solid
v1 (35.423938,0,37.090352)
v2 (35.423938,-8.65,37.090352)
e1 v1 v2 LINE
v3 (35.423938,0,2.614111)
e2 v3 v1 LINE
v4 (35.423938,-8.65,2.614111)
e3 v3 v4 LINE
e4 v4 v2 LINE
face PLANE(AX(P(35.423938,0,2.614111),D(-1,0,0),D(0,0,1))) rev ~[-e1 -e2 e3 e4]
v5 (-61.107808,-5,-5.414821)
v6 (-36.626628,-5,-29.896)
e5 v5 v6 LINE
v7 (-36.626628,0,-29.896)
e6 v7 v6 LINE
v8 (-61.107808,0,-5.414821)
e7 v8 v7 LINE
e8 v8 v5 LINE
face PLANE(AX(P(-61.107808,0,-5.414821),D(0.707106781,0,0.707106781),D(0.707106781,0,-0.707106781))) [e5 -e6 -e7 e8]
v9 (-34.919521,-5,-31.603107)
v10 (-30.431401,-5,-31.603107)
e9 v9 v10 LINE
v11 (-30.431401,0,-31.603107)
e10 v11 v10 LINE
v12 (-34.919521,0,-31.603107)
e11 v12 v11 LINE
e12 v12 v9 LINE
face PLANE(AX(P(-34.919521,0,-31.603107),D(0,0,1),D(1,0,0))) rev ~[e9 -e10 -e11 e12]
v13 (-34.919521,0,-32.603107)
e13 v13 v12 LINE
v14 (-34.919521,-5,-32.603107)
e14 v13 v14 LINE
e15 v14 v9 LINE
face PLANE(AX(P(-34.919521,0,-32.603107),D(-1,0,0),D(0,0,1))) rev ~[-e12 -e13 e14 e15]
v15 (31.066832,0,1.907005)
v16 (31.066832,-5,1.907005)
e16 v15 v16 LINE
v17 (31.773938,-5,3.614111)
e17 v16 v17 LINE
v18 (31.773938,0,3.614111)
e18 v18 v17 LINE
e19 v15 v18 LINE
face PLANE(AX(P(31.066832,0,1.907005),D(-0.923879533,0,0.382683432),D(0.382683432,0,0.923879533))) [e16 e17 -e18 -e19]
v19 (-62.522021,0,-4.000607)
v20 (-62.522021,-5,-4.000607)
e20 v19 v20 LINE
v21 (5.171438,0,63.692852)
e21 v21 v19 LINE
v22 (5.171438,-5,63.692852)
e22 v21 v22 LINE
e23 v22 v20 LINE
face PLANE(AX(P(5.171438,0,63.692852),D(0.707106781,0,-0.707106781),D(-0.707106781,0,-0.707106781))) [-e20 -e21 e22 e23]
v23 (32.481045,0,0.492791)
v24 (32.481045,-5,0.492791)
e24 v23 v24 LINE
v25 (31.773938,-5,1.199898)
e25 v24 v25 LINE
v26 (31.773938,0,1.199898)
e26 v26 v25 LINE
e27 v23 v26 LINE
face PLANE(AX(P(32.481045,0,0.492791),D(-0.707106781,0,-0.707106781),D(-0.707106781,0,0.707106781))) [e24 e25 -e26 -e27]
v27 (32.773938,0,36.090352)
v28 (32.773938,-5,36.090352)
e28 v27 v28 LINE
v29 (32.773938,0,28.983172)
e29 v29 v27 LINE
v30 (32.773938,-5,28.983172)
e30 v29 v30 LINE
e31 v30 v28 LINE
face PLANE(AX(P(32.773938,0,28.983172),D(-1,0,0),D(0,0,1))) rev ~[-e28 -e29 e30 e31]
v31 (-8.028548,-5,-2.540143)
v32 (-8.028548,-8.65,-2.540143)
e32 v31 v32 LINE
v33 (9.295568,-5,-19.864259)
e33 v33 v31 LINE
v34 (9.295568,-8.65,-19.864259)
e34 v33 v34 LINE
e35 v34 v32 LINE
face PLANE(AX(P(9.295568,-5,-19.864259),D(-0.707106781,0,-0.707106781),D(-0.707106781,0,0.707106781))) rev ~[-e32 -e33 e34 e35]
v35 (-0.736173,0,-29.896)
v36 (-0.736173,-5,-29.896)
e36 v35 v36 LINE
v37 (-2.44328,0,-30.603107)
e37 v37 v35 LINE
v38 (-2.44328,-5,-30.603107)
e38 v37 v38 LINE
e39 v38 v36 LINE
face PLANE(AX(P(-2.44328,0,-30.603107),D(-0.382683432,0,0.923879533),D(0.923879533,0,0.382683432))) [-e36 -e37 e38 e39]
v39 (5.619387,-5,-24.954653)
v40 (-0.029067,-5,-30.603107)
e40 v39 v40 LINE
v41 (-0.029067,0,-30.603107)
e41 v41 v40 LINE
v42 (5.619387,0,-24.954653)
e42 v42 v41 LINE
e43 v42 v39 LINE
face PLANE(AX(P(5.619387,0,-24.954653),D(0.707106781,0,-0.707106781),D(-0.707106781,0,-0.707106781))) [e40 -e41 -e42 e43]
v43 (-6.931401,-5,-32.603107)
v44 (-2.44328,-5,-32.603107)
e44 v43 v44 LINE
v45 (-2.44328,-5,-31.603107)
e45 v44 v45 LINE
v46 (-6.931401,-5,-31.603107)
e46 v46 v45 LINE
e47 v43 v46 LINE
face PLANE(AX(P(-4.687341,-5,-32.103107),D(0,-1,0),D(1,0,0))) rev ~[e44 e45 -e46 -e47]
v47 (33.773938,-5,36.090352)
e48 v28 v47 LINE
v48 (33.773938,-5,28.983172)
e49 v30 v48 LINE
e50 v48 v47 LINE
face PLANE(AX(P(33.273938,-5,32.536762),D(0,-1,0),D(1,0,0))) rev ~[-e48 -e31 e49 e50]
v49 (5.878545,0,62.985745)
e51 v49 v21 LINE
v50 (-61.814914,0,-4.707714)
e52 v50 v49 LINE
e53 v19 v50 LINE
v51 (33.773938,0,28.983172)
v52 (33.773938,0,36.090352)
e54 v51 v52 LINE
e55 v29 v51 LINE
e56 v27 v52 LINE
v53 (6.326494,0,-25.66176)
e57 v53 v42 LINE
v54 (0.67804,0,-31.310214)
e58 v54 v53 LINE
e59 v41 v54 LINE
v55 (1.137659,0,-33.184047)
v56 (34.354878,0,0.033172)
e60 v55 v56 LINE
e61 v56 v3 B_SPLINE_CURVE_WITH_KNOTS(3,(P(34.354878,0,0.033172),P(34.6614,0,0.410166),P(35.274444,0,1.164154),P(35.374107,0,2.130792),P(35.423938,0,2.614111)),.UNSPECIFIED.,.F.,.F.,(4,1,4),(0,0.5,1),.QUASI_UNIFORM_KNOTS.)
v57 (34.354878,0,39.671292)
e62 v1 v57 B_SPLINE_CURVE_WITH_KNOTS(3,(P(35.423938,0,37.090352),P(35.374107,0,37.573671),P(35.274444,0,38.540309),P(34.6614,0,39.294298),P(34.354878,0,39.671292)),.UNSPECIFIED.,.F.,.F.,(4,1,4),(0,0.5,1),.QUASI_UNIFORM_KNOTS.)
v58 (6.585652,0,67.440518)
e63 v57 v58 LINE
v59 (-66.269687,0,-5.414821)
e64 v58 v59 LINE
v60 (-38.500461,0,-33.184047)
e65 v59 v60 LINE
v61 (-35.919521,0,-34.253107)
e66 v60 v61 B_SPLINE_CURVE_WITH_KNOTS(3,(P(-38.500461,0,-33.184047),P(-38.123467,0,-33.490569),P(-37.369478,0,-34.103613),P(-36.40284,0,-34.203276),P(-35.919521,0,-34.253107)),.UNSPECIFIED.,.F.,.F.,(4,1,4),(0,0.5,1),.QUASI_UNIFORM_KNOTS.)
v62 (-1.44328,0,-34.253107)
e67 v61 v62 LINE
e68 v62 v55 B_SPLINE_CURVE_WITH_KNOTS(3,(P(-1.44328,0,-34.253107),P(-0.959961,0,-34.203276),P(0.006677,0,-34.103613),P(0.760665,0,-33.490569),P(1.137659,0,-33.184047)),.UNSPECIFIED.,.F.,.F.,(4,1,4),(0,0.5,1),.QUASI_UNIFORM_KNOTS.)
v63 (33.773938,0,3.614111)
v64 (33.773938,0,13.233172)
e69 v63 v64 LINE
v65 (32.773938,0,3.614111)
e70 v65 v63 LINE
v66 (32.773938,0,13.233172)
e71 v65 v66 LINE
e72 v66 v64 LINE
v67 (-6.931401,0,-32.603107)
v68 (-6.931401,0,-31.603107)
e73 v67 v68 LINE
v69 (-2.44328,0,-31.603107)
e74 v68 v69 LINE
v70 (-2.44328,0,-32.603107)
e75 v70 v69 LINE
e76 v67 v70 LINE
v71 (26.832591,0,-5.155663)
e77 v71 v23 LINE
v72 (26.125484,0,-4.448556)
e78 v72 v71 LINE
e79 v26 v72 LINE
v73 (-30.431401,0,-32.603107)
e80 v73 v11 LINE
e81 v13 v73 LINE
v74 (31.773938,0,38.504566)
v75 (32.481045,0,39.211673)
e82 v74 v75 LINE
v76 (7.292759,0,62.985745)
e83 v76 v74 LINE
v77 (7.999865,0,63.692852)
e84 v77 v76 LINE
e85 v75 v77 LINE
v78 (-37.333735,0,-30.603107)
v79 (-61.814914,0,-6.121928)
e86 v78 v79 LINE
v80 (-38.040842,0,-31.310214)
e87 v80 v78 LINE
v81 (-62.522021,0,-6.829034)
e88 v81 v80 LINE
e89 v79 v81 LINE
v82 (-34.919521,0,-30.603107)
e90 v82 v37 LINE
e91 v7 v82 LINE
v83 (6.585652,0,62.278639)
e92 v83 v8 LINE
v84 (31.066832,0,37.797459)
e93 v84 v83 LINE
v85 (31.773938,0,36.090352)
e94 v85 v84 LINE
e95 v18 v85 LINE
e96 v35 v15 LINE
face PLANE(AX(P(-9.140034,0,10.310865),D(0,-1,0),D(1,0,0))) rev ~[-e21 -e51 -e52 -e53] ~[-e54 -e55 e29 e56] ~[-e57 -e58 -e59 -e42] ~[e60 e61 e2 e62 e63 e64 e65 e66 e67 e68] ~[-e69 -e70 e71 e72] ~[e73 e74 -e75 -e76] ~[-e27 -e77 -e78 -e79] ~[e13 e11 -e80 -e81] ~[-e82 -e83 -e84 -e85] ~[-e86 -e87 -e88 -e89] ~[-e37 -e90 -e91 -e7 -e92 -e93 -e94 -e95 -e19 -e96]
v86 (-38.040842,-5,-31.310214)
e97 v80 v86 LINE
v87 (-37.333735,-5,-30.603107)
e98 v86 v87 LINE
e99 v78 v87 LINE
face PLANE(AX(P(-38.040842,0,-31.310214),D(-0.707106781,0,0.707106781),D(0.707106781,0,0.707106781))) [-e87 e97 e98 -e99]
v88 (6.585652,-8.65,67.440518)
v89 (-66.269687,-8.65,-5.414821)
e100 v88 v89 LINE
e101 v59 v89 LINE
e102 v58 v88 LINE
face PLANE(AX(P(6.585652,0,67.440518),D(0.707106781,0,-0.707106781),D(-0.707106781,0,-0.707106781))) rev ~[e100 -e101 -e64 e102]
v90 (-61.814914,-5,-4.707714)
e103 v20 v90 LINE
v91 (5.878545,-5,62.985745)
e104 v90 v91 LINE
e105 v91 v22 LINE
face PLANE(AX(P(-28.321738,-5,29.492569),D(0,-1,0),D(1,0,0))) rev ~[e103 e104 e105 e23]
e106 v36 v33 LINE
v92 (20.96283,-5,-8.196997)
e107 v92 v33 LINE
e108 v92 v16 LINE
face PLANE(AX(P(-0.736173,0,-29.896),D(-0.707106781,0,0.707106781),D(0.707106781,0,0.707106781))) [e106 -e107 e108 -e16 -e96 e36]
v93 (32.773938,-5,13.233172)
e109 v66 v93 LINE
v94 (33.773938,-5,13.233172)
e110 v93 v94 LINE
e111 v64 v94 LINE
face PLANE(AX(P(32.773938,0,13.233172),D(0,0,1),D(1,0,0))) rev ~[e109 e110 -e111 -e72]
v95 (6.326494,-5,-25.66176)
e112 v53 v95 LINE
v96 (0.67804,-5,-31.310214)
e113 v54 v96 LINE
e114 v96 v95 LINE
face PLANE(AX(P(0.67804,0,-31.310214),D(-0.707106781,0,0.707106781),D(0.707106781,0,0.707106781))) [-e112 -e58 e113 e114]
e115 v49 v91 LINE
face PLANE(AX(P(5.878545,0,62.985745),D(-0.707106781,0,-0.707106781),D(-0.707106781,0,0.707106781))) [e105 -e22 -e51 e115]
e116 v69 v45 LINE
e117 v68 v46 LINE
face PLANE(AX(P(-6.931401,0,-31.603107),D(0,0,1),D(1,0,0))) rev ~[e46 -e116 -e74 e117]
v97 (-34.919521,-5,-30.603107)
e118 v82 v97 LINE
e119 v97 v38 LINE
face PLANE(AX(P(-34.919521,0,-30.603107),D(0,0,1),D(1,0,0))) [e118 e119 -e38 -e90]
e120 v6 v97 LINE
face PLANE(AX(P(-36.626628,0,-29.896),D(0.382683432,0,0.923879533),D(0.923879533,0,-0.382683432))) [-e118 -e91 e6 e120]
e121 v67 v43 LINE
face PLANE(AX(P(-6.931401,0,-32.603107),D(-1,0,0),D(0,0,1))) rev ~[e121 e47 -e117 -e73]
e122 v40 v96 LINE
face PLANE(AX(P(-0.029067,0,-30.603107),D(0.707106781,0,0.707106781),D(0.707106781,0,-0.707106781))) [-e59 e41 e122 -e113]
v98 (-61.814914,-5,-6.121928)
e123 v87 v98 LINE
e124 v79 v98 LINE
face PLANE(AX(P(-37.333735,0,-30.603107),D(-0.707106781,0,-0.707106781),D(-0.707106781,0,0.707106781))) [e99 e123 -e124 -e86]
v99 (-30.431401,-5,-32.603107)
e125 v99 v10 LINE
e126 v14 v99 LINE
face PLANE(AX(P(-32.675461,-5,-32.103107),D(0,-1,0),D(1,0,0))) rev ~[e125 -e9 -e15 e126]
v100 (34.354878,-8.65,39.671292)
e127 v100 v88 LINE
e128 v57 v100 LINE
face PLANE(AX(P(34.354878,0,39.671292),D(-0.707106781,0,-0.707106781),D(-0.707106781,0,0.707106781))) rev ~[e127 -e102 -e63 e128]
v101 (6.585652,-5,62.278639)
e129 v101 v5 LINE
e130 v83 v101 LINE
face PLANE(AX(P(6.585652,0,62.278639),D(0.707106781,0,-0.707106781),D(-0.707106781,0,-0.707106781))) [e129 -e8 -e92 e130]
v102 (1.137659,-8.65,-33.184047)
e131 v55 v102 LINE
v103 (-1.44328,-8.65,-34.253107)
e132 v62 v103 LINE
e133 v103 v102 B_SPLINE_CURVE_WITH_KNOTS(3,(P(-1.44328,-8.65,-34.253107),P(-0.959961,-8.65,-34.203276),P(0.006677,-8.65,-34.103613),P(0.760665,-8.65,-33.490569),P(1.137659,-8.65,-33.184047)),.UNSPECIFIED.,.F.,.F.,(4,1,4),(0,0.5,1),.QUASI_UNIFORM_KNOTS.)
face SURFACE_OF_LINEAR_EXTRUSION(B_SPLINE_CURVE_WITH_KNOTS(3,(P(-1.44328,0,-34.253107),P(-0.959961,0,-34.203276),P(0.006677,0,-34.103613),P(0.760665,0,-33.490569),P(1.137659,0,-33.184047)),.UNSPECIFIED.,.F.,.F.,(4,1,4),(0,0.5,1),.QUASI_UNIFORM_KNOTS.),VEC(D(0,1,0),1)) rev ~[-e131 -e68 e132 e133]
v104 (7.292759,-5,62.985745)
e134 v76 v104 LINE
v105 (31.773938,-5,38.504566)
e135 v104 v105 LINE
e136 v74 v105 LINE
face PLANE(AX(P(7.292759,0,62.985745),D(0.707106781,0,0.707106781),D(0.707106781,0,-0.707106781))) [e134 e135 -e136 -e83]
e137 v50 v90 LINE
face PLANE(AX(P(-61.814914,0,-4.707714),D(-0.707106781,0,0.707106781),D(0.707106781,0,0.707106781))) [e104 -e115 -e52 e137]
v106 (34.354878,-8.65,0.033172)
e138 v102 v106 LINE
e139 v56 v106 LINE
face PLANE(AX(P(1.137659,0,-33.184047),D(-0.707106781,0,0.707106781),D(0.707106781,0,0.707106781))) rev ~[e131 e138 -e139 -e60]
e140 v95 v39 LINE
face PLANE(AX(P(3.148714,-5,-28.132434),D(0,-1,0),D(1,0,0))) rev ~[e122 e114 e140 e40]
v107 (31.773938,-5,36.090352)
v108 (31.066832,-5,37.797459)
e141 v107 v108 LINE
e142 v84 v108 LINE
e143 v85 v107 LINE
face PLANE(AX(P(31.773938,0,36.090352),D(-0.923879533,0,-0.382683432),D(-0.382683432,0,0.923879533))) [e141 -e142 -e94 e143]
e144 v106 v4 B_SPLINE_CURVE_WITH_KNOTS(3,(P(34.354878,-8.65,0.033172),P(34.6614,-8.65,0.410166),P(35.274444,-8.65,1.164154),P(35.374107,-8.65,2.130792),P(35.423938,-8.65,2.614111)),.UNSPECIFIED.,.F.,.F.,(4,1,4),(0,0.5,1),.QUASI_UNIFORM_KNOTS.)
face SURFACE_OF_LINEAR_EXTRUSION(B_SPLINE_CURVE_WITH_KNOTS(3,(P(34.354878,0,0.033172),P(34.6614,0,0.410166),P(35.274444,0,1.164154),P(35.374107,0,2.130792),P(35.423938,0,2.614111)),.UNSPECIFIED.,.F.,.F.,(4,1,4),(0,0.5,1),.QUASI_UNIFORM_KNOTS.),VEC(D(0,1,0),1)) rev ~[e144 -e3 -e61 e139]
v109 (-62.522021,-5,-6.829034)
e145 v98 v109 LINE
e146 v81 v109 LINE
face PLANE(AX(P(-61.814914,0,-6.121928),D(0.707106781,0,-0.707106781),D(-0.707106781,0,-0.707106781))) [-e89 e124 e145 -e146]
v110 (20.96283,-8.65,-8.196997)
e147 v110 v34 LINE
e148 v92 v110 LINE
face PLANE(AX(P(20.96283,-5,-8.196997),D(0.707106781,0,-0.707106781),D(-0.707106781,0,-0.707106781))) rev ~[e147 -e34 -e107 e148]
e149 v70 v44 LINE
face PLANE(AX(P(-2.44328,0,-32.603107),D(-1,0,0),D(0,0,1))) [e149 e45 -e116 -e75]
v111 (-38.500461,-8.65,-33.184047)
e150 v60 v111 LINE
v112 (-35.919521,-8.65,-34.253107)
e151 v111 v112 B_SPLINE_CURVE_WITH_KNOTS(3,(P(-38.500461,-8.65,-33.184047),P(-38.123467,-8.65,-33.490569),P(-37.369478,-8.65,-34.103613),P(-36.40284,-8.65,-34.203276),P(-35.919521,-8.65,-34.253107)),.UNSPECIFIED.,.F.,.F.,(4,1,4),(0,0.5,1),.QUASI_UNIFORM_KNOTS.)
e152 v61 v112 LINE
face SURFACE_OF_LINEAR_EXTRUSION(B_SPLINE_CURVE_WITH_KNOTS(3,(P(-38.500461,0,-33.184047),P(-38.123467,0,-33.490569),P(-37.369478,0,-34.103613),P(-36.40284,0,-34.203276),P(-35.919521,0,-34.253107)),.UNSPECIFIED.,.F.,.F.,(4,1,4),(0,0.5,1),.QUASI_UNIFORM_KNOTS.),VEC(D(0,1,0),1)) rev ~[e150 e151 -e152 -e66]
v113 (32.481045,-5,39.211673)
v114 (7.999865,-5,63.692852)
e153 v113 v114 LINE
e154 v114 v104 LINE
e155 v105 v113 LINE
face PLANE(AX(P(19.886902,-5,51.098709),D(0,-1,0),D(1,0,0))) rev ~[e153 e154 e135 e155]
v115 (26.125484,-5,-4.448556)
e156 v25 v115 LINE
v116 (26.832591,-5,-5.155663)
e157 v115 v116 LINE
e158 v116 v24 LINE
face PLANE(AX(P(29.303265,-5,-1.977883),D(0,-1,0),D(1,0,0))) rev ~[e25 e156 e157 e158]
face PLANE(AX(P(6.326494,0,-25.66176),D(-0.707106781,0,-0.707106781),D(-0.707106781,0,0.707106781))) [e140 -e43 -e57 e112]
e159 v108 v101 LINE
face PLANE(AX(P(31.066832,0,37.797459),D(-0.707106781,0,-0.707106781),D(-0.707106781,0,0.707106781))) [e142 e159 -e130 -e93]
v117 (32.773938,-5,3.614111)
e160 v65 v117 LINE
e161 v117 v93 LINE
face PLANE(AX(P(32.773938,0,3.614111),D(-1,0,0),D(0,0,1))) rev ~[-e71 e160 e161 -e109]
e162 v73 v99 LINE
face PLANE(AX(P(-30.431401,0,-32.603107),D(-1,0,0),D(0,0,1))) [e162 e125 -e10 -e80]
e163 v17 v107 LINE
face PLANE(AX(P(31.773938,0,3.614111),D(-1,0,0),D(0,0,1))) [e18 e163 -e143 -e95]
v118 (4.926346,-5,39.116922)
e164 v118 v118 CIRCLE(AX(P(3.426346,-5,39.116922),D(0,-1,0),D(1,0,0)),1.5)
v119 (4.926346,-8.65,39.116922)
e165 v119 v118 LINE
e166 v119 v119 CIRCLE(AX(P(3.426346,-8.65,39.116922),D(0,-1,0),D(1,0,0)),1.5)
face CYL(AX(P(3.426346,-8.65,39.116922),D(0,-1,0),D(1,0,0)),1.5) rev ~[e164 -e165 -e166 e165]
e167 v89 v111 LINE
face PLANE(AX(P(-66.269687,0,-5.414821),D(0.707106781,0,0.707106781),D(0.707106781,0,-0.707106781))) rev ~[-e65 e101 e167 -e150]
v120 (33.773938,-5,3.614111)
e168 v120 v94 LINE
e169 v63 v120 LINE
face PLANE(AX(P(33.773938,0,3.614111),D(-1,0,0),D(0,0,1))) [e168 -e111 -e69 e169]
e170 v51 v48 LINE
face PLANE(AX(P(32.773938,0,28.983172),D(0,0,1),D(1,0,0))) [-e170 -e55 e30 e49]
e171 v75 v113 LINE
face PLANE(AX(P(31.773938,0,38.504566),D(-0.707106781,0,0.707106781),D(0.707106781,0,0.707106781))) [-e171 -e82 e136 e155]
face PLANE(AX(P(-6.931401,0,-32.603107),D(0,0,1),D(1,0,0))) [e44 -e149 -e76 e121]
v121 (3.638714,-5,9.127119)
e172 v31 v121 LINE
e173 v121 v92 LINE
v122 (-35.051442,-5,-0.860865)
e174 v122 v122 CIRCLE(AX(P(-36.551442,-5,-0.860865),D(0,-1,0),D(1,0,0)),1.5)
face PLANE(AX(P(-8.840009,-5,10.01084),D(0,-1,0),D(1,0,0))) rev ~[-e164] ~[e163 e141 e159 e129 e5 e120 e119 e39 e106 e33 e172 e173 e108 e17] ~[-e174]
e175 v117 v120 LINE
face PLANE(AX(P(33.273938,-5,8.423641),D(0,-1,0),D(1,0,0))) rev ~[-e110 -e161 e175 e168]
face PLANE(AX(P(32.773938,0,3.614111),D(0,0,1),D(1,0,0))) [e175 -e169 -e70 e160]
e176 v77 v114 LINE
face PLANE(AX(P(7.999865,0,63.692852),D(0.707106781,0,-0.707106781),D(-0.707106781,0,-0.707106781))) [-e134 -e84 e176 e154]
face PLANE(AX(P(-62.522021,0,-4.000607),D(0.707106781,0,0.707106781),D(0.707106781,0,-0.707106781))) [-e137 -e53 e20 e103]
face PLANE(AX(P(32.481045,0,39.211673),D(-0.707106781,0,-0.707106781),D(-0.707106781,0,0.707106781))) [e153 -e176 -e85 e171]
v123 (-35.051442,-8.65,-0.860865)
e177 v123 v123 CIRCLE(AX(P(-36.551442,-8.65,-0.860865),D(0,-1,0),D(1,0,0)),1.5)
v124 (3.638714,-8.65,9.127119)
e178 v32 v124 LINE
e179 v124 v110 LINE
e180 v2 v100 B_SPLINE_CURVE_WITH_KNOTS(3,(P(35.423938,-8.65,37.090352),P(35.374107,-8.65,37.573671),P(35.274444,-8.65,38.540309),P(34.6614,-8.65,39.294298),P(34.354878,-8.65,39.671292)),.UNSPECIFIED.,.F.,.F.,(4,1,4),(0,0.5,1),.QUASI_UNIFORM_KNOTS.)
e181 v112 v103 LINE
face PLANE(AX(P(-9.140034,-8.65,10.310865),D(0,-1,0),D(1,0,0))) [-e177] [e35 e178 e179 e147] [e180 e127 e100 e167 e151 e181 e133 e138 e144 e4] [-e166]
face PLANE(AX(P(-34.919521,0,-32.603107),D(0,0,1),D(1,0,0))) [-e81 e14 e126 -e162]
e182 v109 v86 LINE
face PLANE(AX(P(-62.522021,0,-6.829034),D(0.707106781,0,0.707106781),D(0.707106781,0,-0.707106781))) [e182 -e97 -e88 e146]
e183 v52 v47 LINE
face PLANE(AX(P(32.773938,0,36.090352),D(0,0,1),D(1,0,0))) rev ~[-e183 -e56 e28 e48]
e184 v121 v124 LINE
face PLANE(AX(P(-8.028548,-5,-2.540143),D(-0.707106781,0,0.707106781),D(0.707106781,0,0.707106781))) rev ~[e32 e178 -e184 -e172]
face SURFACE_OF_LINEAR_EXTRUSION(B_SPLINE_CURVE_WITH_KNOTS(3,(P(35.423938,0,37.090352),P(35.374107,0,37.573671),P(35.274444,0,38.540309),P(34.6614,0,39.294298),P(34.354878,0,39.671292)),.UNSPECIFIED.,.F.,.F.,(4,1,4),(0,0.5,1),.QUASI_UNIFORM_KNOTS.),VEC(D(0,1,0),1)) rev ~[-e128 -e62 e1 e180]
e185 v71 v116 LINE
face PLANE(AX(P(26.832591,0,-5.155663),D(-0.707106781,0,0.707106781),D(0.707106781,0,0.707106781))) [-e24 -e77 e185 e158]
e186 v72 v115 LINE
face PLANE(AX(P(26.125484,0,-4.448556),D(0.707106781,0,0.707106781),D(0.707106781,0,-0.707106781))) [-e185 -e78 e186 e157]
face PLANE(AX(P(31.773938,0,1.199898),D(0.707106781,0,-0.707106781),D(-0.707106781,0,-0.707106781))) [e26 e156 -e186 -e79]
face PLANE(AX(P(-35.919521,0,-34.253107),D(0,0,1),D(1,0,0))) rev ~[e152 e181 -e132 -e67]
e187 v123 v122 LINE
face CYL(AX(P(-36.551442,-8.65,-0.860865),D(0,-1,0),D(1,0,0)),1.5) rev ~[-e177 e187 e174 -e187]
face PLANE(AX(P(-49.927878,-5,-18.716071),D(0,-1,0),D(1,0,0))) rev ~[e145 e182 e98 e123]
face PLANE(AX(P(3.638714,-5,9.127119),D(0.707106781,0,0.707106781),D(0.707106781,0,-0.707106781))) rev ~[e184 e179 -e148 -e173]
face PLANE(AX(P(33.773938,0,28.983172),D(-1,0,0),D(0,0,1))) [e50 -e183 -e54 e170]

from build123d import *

# Parameters (mm, degrees)
F0_W     = 4.4881204973
F0_H     = 1
F0_W_2   = 1
F0_H_2   = 9.6190602487
F0_H_3   = 7.107180746
F1_DEPTH = 8.65
F2_DEPTH = 5
F3_DEPTH = 5
F5_DEPTH = 3.65
F6_R     = 1.5
F7_DEPTH = 3.65


with BuildPart() as f1:
    # F0 (on Front) → F1 (new body)
    with BuildSketch(Plane.XZ):
        with BuildLine():
            Line((34.3548780517, 39.6712920324), (6.5856519265, 67.4405181576))
            Line((6.5856519265, 67.4405181576), (-66.2696871329, -5.4148209018))
            Line((-66.2696871329, -5.4148209018), (-38.5004610077, -33.1840470269))
            add(Edge.make_bspline(
                [(-38.5004610077, -33.1840470269), (-38.1234667087, -33.490568944), (-37.3694781107, -34.1036127783), (-36.4028402078, -34.2032757765), (-35.9195212563, -34.2531072756)],
                knots=[0, 0, 0, 0, 0.5, 1, 1, 1, 1], degree=3))
            Line((-35.9195212563, -34.2531072756), (-1.4432802617, -34.2531072756))
            add(Edge.make_bspline(
                [(-1.4432802617, -34.2531072756), (-0.9599613102, -34.2032757765), (0.0066765927, -34.1036127783), (0.7606651907, -33.490568944), (1.1376594897, -33.1840470269)],
                knots=[0, 0, 0, 0, 0.5, 1, 1, 1, 1], degree=3))
            Line((1.1376594897, -33.1840470269), (17.7462687707, -16.5754377459))
            Line((17.7462687707, -16.5754377459), (34.3548780517, 0.0331715351))
            add(Edge.make_bspline(
                [(34.3548780517, 0.0331715351), (34.6613999688, 0.4101658341), (35.274443803, 1.164154432), (35.3741068012, 2.1307923349), (35.4239383003, 2.6141112864)],
                knots=[0, 0, 0, 0, 0.5, 1, 1, 1, 1], degree=3))
            Line((35.4239383003, 2.6141112864), (35.4239383003, 37.0903522811))
            add(Edge.make_bspline(
                [(35.4239383003, 37.0903522811), (35.3741068012, 37.5736712325), (35.274443803, 38.5403091354), (34.6613999688, 39.2942977334), (34.3548780517, 39.6712920324)],
                knots=[0, 0, 0, 0, 0.5, 1, 1, 1, 1], degree=3))
        make_face()
        Polygon((-61.8149144114, -6.1219276829), (-37.3337348187, -30.6031072756), (-38.0408415999, -31.3102140568), (-62.5220211925, -6.8290344641), align=None, mode=Mode.SUBTRACT)
        with Locations((-32.6754610077, -32.1031072756)):
            Rectangle(F0_W, F0_H, mode=Mode.SUBTRACT)
        with Locations((-4.6873405103, -32.1031072756)):
            Rectangle(F0_W, F0_H, mode=Mode.SUBTRACT)
        Polygon((5.6193874733, -24.954653103), (6.3264942545, -25.6617598842), (0.6780400819, -31.3102140568), (-0.0290666993, -30.6031072756), align=None, mode=Mode.SUBTRACT)
        Polygon((25.4183773465, -3.7414496674), (15.1653290193, -13.9944979946), (-0.7361734805, -29.8960004944), (-2.4432802617, -30.6031072756), (-6.931400759, -30.6031072756), (-30.431400759, -30.6031072756), (-34.9195212563, -30.6031072756), (-36.6266280375, -29.8960004944), (-61.1078076302, -5.4148209018), (6.5856519265, 62.2786386549), (31.0668315191, 37.7974590623), (31.7739383003, 36.0903522811), (31.7739383003, 3.6141112864), (31.0668315191, 1.9070045052), align=None, mode=Mode.SUBTRACT)
        Polygon((32.4810450815, 0.4927909428), (26.8325909089, -5.1556632298), (26.1254841277, -4.4485564486), (31.7739383003, 1.199897724), align=None, mode=Mode.SUBTRACT)
        with Locations((33.2739383003, 8.4236414107)):
            Rectangle(F0_W_2, F0_H_2, mode=Mode.SUBTRACT)
        Polygon((-62.5220211926, -4.0006073394), (5.1714383642, 63.6928522173), (5.8785451453, 62.9857454361), (-61.8149144114, -4.7077141206), align=None, mode=Mode.SUBTRACT)
        with Locations((33.2739383003, 32.5367619081)):
            Rectangle(F0_W_2, F0_H_3, mode=Mode.SUBTRACT)
        Polygon((7.9998654889, 63.6928522172), (32.4810450815, 39.2116726246), (31.7739383003, 38.5045658435), (7.2927587077, 62.9857454361), align=None, mode=Mode.SUBTRACT)
        Polygon((-0.7361734805, -29.8960004944), (15.1653290193, -13.9944979946), (25.4183773465, -3.7414496674), (31.0668315191, 1.9070045052), (31.7739383003, 3.6141112864), (31.7739383003, 36.0903522811), (31.0668315191, 37.7974590623), (6.5856519265, 62.2786386549), (-61.1078076302, -5.4148209018), (-36.6266280375, -29.8960004944), (-34.9195212563, -30.6031072756), (-30.431400759, -30.6031072756), (-6.931400759, -30.6031072756), (-2.4432802617, -30.6031072756), align=None)
        Polygon((5.8785451453, 62.9857454361), (5.1714383642, 63.6928522173), (-62.5220211926, -4.0006073394), (-61.8149144114, -4.7077141206), align=None)
        Polygon((31.7739383003, 38.5045658435), (32.4810450815, 39.2116726246), (7.9998654889, 63.6928522172), (7.2927587077, 62.9857454361), align=None)
        Polygon((-38.0408415999, -31.3102140568), (-37.3337348187, -30.6031072756), (-61.8149144114, -6.1219276829), (-62.5220211925, -6.8290344641), align=None)
        with Locations((33.2739383003, 8.4236414107)):
            Rectangle(F0_W_2, F0_H_2)
        Polygon((26.1254841277, -4.4485564486), (26.8325909089, -5.1556632298), (32.4810450815, 0.4927909428), (31.7739383003, 1.199897724), align=None)
        Polygon((0.6780400819, -31.3102140568), (6.3264942545, -25.6617598842), (5.6193874733, -24.954653103), (-0.0290666993, -30.6031072756), align=None)
        with Locations((33.2739383003, 32.5367619081)):
            Rectangle(F0_W_2, F0_H_3)
        with Locations((-4.6873405103, -32.1031072756)):
            Rectangle(F0_W, F0_H)
        with Locations((-32.6754610077, -32.1031072756)):
            Rectangle(F0_W, F0_H)
    extrude(amount=F1_DEPTH)

    # F0 (on Front) → F2 (cut)
    with BuildSketch(Plane.XZ):
        Polygon((-0.7361734805, -29.8960004944), (15.1653290193, -13.9944979946), (25.4183773465, -3.7414496674), (31.0668315191, 1.9070045052), (31.7739383003, 3.6141112864), (31.7739383003, 36.0903522811), (31.0668315191, 37.7974590623), (6.5856519265, 62.2786386549), (-61.1078076302, -5.4148209018), (-36.6266280375, -29.8960004944), (-34.9195212563, -30.6031072756), (-30.431400759, -30.6031072756), (-6.931400759, -30.6031072756), (-2.4432802617, -30.6031072756), align=None)
    extrude(amount=F2_DEPTH, mode=Mode.SUBTRACT)

    # F0 (on Front) → F3 (cut)
    with BuildSketch(Plane.XZ):
        Polygon((31.7739383003, 38.5045658435), (32.4810450815, 39.2116726246), (7.9998654889, 63.6928522172), (7.2927587077, 62.9857454361), align=None)
        Polygon((5.8785451453, 62.9857454361), (5.1714383642, 63.6928522173), (-62.5220211926, -4.0006073394), (-61.8149144114, -4.7077141206), align=None)
        Polygon((-38.0408415999, -31.3102140568), (-37.3337348187, -30.6031072756), (-61.8149144114, -6.1219276829), (-62.5220211925, -6.8290344641), align=None)
        with Locations((-32.6754610077, -32.1031072756)):
            Rectangle(F0_W, F0_H)
        with Locations((-4.6873405103, -32.1031072756)):
            Rectangle(F0_W, F0_H)
        Polygon((0.6780400819, -31.3102140568), (6.3264942545, -25.6617598842), (5.6193874733, -24.954653103), (-0.0290666993, -30.6031072756), align=None)
        Polygon((26.1254841277, -4.4485564486), (26.8325909089, -5.1556632298), (32.4810450815, 0.4927909428), (31.7739383003, 1.199897724), align=None)
        with Locations((33.2739383003, 8.4236414107)):
            Rectangle(F0_W_2, F0_H_2)
        with Locations((33.2739383003, 32.5367619081)):
            Rectangle(F0_W_2, F0_H_3)
    extrude(amount=F3_DEPTH, mode=Mode.SUBTRACT)

    # F4 (on face) → F5 (cut, through all)
    with BuildSketch(Plane(origin=(0, -5, 0), x_dir=(-1, 0, 0), z_dir=(0, 1, 0))):
        Polygon((-3.6387139853, 9.1271192495), (-20.9628301244, -8.1969968896), (-9.2955682348, -19.8642587791), (8.0285479043, -2.5401426401), align=None)
    extrude(amount=-F5_DEPTH, mode=Mode.SUBTRACT)

    # F6 (on face) → F7 (cut, through all)
    with BuildSketch(Plane.XZ.offset(8.65)):
        with Locations((3.4263458096, 39.1169224389)):
            Circle(F6_R)
        with Locations((-36.5514419514, -0.8608653222)):
            Circle(F6_R)
    extrude(amount=-F7_DEPTH, mode=Mode.SUBTRACT)


solid = f1.part
